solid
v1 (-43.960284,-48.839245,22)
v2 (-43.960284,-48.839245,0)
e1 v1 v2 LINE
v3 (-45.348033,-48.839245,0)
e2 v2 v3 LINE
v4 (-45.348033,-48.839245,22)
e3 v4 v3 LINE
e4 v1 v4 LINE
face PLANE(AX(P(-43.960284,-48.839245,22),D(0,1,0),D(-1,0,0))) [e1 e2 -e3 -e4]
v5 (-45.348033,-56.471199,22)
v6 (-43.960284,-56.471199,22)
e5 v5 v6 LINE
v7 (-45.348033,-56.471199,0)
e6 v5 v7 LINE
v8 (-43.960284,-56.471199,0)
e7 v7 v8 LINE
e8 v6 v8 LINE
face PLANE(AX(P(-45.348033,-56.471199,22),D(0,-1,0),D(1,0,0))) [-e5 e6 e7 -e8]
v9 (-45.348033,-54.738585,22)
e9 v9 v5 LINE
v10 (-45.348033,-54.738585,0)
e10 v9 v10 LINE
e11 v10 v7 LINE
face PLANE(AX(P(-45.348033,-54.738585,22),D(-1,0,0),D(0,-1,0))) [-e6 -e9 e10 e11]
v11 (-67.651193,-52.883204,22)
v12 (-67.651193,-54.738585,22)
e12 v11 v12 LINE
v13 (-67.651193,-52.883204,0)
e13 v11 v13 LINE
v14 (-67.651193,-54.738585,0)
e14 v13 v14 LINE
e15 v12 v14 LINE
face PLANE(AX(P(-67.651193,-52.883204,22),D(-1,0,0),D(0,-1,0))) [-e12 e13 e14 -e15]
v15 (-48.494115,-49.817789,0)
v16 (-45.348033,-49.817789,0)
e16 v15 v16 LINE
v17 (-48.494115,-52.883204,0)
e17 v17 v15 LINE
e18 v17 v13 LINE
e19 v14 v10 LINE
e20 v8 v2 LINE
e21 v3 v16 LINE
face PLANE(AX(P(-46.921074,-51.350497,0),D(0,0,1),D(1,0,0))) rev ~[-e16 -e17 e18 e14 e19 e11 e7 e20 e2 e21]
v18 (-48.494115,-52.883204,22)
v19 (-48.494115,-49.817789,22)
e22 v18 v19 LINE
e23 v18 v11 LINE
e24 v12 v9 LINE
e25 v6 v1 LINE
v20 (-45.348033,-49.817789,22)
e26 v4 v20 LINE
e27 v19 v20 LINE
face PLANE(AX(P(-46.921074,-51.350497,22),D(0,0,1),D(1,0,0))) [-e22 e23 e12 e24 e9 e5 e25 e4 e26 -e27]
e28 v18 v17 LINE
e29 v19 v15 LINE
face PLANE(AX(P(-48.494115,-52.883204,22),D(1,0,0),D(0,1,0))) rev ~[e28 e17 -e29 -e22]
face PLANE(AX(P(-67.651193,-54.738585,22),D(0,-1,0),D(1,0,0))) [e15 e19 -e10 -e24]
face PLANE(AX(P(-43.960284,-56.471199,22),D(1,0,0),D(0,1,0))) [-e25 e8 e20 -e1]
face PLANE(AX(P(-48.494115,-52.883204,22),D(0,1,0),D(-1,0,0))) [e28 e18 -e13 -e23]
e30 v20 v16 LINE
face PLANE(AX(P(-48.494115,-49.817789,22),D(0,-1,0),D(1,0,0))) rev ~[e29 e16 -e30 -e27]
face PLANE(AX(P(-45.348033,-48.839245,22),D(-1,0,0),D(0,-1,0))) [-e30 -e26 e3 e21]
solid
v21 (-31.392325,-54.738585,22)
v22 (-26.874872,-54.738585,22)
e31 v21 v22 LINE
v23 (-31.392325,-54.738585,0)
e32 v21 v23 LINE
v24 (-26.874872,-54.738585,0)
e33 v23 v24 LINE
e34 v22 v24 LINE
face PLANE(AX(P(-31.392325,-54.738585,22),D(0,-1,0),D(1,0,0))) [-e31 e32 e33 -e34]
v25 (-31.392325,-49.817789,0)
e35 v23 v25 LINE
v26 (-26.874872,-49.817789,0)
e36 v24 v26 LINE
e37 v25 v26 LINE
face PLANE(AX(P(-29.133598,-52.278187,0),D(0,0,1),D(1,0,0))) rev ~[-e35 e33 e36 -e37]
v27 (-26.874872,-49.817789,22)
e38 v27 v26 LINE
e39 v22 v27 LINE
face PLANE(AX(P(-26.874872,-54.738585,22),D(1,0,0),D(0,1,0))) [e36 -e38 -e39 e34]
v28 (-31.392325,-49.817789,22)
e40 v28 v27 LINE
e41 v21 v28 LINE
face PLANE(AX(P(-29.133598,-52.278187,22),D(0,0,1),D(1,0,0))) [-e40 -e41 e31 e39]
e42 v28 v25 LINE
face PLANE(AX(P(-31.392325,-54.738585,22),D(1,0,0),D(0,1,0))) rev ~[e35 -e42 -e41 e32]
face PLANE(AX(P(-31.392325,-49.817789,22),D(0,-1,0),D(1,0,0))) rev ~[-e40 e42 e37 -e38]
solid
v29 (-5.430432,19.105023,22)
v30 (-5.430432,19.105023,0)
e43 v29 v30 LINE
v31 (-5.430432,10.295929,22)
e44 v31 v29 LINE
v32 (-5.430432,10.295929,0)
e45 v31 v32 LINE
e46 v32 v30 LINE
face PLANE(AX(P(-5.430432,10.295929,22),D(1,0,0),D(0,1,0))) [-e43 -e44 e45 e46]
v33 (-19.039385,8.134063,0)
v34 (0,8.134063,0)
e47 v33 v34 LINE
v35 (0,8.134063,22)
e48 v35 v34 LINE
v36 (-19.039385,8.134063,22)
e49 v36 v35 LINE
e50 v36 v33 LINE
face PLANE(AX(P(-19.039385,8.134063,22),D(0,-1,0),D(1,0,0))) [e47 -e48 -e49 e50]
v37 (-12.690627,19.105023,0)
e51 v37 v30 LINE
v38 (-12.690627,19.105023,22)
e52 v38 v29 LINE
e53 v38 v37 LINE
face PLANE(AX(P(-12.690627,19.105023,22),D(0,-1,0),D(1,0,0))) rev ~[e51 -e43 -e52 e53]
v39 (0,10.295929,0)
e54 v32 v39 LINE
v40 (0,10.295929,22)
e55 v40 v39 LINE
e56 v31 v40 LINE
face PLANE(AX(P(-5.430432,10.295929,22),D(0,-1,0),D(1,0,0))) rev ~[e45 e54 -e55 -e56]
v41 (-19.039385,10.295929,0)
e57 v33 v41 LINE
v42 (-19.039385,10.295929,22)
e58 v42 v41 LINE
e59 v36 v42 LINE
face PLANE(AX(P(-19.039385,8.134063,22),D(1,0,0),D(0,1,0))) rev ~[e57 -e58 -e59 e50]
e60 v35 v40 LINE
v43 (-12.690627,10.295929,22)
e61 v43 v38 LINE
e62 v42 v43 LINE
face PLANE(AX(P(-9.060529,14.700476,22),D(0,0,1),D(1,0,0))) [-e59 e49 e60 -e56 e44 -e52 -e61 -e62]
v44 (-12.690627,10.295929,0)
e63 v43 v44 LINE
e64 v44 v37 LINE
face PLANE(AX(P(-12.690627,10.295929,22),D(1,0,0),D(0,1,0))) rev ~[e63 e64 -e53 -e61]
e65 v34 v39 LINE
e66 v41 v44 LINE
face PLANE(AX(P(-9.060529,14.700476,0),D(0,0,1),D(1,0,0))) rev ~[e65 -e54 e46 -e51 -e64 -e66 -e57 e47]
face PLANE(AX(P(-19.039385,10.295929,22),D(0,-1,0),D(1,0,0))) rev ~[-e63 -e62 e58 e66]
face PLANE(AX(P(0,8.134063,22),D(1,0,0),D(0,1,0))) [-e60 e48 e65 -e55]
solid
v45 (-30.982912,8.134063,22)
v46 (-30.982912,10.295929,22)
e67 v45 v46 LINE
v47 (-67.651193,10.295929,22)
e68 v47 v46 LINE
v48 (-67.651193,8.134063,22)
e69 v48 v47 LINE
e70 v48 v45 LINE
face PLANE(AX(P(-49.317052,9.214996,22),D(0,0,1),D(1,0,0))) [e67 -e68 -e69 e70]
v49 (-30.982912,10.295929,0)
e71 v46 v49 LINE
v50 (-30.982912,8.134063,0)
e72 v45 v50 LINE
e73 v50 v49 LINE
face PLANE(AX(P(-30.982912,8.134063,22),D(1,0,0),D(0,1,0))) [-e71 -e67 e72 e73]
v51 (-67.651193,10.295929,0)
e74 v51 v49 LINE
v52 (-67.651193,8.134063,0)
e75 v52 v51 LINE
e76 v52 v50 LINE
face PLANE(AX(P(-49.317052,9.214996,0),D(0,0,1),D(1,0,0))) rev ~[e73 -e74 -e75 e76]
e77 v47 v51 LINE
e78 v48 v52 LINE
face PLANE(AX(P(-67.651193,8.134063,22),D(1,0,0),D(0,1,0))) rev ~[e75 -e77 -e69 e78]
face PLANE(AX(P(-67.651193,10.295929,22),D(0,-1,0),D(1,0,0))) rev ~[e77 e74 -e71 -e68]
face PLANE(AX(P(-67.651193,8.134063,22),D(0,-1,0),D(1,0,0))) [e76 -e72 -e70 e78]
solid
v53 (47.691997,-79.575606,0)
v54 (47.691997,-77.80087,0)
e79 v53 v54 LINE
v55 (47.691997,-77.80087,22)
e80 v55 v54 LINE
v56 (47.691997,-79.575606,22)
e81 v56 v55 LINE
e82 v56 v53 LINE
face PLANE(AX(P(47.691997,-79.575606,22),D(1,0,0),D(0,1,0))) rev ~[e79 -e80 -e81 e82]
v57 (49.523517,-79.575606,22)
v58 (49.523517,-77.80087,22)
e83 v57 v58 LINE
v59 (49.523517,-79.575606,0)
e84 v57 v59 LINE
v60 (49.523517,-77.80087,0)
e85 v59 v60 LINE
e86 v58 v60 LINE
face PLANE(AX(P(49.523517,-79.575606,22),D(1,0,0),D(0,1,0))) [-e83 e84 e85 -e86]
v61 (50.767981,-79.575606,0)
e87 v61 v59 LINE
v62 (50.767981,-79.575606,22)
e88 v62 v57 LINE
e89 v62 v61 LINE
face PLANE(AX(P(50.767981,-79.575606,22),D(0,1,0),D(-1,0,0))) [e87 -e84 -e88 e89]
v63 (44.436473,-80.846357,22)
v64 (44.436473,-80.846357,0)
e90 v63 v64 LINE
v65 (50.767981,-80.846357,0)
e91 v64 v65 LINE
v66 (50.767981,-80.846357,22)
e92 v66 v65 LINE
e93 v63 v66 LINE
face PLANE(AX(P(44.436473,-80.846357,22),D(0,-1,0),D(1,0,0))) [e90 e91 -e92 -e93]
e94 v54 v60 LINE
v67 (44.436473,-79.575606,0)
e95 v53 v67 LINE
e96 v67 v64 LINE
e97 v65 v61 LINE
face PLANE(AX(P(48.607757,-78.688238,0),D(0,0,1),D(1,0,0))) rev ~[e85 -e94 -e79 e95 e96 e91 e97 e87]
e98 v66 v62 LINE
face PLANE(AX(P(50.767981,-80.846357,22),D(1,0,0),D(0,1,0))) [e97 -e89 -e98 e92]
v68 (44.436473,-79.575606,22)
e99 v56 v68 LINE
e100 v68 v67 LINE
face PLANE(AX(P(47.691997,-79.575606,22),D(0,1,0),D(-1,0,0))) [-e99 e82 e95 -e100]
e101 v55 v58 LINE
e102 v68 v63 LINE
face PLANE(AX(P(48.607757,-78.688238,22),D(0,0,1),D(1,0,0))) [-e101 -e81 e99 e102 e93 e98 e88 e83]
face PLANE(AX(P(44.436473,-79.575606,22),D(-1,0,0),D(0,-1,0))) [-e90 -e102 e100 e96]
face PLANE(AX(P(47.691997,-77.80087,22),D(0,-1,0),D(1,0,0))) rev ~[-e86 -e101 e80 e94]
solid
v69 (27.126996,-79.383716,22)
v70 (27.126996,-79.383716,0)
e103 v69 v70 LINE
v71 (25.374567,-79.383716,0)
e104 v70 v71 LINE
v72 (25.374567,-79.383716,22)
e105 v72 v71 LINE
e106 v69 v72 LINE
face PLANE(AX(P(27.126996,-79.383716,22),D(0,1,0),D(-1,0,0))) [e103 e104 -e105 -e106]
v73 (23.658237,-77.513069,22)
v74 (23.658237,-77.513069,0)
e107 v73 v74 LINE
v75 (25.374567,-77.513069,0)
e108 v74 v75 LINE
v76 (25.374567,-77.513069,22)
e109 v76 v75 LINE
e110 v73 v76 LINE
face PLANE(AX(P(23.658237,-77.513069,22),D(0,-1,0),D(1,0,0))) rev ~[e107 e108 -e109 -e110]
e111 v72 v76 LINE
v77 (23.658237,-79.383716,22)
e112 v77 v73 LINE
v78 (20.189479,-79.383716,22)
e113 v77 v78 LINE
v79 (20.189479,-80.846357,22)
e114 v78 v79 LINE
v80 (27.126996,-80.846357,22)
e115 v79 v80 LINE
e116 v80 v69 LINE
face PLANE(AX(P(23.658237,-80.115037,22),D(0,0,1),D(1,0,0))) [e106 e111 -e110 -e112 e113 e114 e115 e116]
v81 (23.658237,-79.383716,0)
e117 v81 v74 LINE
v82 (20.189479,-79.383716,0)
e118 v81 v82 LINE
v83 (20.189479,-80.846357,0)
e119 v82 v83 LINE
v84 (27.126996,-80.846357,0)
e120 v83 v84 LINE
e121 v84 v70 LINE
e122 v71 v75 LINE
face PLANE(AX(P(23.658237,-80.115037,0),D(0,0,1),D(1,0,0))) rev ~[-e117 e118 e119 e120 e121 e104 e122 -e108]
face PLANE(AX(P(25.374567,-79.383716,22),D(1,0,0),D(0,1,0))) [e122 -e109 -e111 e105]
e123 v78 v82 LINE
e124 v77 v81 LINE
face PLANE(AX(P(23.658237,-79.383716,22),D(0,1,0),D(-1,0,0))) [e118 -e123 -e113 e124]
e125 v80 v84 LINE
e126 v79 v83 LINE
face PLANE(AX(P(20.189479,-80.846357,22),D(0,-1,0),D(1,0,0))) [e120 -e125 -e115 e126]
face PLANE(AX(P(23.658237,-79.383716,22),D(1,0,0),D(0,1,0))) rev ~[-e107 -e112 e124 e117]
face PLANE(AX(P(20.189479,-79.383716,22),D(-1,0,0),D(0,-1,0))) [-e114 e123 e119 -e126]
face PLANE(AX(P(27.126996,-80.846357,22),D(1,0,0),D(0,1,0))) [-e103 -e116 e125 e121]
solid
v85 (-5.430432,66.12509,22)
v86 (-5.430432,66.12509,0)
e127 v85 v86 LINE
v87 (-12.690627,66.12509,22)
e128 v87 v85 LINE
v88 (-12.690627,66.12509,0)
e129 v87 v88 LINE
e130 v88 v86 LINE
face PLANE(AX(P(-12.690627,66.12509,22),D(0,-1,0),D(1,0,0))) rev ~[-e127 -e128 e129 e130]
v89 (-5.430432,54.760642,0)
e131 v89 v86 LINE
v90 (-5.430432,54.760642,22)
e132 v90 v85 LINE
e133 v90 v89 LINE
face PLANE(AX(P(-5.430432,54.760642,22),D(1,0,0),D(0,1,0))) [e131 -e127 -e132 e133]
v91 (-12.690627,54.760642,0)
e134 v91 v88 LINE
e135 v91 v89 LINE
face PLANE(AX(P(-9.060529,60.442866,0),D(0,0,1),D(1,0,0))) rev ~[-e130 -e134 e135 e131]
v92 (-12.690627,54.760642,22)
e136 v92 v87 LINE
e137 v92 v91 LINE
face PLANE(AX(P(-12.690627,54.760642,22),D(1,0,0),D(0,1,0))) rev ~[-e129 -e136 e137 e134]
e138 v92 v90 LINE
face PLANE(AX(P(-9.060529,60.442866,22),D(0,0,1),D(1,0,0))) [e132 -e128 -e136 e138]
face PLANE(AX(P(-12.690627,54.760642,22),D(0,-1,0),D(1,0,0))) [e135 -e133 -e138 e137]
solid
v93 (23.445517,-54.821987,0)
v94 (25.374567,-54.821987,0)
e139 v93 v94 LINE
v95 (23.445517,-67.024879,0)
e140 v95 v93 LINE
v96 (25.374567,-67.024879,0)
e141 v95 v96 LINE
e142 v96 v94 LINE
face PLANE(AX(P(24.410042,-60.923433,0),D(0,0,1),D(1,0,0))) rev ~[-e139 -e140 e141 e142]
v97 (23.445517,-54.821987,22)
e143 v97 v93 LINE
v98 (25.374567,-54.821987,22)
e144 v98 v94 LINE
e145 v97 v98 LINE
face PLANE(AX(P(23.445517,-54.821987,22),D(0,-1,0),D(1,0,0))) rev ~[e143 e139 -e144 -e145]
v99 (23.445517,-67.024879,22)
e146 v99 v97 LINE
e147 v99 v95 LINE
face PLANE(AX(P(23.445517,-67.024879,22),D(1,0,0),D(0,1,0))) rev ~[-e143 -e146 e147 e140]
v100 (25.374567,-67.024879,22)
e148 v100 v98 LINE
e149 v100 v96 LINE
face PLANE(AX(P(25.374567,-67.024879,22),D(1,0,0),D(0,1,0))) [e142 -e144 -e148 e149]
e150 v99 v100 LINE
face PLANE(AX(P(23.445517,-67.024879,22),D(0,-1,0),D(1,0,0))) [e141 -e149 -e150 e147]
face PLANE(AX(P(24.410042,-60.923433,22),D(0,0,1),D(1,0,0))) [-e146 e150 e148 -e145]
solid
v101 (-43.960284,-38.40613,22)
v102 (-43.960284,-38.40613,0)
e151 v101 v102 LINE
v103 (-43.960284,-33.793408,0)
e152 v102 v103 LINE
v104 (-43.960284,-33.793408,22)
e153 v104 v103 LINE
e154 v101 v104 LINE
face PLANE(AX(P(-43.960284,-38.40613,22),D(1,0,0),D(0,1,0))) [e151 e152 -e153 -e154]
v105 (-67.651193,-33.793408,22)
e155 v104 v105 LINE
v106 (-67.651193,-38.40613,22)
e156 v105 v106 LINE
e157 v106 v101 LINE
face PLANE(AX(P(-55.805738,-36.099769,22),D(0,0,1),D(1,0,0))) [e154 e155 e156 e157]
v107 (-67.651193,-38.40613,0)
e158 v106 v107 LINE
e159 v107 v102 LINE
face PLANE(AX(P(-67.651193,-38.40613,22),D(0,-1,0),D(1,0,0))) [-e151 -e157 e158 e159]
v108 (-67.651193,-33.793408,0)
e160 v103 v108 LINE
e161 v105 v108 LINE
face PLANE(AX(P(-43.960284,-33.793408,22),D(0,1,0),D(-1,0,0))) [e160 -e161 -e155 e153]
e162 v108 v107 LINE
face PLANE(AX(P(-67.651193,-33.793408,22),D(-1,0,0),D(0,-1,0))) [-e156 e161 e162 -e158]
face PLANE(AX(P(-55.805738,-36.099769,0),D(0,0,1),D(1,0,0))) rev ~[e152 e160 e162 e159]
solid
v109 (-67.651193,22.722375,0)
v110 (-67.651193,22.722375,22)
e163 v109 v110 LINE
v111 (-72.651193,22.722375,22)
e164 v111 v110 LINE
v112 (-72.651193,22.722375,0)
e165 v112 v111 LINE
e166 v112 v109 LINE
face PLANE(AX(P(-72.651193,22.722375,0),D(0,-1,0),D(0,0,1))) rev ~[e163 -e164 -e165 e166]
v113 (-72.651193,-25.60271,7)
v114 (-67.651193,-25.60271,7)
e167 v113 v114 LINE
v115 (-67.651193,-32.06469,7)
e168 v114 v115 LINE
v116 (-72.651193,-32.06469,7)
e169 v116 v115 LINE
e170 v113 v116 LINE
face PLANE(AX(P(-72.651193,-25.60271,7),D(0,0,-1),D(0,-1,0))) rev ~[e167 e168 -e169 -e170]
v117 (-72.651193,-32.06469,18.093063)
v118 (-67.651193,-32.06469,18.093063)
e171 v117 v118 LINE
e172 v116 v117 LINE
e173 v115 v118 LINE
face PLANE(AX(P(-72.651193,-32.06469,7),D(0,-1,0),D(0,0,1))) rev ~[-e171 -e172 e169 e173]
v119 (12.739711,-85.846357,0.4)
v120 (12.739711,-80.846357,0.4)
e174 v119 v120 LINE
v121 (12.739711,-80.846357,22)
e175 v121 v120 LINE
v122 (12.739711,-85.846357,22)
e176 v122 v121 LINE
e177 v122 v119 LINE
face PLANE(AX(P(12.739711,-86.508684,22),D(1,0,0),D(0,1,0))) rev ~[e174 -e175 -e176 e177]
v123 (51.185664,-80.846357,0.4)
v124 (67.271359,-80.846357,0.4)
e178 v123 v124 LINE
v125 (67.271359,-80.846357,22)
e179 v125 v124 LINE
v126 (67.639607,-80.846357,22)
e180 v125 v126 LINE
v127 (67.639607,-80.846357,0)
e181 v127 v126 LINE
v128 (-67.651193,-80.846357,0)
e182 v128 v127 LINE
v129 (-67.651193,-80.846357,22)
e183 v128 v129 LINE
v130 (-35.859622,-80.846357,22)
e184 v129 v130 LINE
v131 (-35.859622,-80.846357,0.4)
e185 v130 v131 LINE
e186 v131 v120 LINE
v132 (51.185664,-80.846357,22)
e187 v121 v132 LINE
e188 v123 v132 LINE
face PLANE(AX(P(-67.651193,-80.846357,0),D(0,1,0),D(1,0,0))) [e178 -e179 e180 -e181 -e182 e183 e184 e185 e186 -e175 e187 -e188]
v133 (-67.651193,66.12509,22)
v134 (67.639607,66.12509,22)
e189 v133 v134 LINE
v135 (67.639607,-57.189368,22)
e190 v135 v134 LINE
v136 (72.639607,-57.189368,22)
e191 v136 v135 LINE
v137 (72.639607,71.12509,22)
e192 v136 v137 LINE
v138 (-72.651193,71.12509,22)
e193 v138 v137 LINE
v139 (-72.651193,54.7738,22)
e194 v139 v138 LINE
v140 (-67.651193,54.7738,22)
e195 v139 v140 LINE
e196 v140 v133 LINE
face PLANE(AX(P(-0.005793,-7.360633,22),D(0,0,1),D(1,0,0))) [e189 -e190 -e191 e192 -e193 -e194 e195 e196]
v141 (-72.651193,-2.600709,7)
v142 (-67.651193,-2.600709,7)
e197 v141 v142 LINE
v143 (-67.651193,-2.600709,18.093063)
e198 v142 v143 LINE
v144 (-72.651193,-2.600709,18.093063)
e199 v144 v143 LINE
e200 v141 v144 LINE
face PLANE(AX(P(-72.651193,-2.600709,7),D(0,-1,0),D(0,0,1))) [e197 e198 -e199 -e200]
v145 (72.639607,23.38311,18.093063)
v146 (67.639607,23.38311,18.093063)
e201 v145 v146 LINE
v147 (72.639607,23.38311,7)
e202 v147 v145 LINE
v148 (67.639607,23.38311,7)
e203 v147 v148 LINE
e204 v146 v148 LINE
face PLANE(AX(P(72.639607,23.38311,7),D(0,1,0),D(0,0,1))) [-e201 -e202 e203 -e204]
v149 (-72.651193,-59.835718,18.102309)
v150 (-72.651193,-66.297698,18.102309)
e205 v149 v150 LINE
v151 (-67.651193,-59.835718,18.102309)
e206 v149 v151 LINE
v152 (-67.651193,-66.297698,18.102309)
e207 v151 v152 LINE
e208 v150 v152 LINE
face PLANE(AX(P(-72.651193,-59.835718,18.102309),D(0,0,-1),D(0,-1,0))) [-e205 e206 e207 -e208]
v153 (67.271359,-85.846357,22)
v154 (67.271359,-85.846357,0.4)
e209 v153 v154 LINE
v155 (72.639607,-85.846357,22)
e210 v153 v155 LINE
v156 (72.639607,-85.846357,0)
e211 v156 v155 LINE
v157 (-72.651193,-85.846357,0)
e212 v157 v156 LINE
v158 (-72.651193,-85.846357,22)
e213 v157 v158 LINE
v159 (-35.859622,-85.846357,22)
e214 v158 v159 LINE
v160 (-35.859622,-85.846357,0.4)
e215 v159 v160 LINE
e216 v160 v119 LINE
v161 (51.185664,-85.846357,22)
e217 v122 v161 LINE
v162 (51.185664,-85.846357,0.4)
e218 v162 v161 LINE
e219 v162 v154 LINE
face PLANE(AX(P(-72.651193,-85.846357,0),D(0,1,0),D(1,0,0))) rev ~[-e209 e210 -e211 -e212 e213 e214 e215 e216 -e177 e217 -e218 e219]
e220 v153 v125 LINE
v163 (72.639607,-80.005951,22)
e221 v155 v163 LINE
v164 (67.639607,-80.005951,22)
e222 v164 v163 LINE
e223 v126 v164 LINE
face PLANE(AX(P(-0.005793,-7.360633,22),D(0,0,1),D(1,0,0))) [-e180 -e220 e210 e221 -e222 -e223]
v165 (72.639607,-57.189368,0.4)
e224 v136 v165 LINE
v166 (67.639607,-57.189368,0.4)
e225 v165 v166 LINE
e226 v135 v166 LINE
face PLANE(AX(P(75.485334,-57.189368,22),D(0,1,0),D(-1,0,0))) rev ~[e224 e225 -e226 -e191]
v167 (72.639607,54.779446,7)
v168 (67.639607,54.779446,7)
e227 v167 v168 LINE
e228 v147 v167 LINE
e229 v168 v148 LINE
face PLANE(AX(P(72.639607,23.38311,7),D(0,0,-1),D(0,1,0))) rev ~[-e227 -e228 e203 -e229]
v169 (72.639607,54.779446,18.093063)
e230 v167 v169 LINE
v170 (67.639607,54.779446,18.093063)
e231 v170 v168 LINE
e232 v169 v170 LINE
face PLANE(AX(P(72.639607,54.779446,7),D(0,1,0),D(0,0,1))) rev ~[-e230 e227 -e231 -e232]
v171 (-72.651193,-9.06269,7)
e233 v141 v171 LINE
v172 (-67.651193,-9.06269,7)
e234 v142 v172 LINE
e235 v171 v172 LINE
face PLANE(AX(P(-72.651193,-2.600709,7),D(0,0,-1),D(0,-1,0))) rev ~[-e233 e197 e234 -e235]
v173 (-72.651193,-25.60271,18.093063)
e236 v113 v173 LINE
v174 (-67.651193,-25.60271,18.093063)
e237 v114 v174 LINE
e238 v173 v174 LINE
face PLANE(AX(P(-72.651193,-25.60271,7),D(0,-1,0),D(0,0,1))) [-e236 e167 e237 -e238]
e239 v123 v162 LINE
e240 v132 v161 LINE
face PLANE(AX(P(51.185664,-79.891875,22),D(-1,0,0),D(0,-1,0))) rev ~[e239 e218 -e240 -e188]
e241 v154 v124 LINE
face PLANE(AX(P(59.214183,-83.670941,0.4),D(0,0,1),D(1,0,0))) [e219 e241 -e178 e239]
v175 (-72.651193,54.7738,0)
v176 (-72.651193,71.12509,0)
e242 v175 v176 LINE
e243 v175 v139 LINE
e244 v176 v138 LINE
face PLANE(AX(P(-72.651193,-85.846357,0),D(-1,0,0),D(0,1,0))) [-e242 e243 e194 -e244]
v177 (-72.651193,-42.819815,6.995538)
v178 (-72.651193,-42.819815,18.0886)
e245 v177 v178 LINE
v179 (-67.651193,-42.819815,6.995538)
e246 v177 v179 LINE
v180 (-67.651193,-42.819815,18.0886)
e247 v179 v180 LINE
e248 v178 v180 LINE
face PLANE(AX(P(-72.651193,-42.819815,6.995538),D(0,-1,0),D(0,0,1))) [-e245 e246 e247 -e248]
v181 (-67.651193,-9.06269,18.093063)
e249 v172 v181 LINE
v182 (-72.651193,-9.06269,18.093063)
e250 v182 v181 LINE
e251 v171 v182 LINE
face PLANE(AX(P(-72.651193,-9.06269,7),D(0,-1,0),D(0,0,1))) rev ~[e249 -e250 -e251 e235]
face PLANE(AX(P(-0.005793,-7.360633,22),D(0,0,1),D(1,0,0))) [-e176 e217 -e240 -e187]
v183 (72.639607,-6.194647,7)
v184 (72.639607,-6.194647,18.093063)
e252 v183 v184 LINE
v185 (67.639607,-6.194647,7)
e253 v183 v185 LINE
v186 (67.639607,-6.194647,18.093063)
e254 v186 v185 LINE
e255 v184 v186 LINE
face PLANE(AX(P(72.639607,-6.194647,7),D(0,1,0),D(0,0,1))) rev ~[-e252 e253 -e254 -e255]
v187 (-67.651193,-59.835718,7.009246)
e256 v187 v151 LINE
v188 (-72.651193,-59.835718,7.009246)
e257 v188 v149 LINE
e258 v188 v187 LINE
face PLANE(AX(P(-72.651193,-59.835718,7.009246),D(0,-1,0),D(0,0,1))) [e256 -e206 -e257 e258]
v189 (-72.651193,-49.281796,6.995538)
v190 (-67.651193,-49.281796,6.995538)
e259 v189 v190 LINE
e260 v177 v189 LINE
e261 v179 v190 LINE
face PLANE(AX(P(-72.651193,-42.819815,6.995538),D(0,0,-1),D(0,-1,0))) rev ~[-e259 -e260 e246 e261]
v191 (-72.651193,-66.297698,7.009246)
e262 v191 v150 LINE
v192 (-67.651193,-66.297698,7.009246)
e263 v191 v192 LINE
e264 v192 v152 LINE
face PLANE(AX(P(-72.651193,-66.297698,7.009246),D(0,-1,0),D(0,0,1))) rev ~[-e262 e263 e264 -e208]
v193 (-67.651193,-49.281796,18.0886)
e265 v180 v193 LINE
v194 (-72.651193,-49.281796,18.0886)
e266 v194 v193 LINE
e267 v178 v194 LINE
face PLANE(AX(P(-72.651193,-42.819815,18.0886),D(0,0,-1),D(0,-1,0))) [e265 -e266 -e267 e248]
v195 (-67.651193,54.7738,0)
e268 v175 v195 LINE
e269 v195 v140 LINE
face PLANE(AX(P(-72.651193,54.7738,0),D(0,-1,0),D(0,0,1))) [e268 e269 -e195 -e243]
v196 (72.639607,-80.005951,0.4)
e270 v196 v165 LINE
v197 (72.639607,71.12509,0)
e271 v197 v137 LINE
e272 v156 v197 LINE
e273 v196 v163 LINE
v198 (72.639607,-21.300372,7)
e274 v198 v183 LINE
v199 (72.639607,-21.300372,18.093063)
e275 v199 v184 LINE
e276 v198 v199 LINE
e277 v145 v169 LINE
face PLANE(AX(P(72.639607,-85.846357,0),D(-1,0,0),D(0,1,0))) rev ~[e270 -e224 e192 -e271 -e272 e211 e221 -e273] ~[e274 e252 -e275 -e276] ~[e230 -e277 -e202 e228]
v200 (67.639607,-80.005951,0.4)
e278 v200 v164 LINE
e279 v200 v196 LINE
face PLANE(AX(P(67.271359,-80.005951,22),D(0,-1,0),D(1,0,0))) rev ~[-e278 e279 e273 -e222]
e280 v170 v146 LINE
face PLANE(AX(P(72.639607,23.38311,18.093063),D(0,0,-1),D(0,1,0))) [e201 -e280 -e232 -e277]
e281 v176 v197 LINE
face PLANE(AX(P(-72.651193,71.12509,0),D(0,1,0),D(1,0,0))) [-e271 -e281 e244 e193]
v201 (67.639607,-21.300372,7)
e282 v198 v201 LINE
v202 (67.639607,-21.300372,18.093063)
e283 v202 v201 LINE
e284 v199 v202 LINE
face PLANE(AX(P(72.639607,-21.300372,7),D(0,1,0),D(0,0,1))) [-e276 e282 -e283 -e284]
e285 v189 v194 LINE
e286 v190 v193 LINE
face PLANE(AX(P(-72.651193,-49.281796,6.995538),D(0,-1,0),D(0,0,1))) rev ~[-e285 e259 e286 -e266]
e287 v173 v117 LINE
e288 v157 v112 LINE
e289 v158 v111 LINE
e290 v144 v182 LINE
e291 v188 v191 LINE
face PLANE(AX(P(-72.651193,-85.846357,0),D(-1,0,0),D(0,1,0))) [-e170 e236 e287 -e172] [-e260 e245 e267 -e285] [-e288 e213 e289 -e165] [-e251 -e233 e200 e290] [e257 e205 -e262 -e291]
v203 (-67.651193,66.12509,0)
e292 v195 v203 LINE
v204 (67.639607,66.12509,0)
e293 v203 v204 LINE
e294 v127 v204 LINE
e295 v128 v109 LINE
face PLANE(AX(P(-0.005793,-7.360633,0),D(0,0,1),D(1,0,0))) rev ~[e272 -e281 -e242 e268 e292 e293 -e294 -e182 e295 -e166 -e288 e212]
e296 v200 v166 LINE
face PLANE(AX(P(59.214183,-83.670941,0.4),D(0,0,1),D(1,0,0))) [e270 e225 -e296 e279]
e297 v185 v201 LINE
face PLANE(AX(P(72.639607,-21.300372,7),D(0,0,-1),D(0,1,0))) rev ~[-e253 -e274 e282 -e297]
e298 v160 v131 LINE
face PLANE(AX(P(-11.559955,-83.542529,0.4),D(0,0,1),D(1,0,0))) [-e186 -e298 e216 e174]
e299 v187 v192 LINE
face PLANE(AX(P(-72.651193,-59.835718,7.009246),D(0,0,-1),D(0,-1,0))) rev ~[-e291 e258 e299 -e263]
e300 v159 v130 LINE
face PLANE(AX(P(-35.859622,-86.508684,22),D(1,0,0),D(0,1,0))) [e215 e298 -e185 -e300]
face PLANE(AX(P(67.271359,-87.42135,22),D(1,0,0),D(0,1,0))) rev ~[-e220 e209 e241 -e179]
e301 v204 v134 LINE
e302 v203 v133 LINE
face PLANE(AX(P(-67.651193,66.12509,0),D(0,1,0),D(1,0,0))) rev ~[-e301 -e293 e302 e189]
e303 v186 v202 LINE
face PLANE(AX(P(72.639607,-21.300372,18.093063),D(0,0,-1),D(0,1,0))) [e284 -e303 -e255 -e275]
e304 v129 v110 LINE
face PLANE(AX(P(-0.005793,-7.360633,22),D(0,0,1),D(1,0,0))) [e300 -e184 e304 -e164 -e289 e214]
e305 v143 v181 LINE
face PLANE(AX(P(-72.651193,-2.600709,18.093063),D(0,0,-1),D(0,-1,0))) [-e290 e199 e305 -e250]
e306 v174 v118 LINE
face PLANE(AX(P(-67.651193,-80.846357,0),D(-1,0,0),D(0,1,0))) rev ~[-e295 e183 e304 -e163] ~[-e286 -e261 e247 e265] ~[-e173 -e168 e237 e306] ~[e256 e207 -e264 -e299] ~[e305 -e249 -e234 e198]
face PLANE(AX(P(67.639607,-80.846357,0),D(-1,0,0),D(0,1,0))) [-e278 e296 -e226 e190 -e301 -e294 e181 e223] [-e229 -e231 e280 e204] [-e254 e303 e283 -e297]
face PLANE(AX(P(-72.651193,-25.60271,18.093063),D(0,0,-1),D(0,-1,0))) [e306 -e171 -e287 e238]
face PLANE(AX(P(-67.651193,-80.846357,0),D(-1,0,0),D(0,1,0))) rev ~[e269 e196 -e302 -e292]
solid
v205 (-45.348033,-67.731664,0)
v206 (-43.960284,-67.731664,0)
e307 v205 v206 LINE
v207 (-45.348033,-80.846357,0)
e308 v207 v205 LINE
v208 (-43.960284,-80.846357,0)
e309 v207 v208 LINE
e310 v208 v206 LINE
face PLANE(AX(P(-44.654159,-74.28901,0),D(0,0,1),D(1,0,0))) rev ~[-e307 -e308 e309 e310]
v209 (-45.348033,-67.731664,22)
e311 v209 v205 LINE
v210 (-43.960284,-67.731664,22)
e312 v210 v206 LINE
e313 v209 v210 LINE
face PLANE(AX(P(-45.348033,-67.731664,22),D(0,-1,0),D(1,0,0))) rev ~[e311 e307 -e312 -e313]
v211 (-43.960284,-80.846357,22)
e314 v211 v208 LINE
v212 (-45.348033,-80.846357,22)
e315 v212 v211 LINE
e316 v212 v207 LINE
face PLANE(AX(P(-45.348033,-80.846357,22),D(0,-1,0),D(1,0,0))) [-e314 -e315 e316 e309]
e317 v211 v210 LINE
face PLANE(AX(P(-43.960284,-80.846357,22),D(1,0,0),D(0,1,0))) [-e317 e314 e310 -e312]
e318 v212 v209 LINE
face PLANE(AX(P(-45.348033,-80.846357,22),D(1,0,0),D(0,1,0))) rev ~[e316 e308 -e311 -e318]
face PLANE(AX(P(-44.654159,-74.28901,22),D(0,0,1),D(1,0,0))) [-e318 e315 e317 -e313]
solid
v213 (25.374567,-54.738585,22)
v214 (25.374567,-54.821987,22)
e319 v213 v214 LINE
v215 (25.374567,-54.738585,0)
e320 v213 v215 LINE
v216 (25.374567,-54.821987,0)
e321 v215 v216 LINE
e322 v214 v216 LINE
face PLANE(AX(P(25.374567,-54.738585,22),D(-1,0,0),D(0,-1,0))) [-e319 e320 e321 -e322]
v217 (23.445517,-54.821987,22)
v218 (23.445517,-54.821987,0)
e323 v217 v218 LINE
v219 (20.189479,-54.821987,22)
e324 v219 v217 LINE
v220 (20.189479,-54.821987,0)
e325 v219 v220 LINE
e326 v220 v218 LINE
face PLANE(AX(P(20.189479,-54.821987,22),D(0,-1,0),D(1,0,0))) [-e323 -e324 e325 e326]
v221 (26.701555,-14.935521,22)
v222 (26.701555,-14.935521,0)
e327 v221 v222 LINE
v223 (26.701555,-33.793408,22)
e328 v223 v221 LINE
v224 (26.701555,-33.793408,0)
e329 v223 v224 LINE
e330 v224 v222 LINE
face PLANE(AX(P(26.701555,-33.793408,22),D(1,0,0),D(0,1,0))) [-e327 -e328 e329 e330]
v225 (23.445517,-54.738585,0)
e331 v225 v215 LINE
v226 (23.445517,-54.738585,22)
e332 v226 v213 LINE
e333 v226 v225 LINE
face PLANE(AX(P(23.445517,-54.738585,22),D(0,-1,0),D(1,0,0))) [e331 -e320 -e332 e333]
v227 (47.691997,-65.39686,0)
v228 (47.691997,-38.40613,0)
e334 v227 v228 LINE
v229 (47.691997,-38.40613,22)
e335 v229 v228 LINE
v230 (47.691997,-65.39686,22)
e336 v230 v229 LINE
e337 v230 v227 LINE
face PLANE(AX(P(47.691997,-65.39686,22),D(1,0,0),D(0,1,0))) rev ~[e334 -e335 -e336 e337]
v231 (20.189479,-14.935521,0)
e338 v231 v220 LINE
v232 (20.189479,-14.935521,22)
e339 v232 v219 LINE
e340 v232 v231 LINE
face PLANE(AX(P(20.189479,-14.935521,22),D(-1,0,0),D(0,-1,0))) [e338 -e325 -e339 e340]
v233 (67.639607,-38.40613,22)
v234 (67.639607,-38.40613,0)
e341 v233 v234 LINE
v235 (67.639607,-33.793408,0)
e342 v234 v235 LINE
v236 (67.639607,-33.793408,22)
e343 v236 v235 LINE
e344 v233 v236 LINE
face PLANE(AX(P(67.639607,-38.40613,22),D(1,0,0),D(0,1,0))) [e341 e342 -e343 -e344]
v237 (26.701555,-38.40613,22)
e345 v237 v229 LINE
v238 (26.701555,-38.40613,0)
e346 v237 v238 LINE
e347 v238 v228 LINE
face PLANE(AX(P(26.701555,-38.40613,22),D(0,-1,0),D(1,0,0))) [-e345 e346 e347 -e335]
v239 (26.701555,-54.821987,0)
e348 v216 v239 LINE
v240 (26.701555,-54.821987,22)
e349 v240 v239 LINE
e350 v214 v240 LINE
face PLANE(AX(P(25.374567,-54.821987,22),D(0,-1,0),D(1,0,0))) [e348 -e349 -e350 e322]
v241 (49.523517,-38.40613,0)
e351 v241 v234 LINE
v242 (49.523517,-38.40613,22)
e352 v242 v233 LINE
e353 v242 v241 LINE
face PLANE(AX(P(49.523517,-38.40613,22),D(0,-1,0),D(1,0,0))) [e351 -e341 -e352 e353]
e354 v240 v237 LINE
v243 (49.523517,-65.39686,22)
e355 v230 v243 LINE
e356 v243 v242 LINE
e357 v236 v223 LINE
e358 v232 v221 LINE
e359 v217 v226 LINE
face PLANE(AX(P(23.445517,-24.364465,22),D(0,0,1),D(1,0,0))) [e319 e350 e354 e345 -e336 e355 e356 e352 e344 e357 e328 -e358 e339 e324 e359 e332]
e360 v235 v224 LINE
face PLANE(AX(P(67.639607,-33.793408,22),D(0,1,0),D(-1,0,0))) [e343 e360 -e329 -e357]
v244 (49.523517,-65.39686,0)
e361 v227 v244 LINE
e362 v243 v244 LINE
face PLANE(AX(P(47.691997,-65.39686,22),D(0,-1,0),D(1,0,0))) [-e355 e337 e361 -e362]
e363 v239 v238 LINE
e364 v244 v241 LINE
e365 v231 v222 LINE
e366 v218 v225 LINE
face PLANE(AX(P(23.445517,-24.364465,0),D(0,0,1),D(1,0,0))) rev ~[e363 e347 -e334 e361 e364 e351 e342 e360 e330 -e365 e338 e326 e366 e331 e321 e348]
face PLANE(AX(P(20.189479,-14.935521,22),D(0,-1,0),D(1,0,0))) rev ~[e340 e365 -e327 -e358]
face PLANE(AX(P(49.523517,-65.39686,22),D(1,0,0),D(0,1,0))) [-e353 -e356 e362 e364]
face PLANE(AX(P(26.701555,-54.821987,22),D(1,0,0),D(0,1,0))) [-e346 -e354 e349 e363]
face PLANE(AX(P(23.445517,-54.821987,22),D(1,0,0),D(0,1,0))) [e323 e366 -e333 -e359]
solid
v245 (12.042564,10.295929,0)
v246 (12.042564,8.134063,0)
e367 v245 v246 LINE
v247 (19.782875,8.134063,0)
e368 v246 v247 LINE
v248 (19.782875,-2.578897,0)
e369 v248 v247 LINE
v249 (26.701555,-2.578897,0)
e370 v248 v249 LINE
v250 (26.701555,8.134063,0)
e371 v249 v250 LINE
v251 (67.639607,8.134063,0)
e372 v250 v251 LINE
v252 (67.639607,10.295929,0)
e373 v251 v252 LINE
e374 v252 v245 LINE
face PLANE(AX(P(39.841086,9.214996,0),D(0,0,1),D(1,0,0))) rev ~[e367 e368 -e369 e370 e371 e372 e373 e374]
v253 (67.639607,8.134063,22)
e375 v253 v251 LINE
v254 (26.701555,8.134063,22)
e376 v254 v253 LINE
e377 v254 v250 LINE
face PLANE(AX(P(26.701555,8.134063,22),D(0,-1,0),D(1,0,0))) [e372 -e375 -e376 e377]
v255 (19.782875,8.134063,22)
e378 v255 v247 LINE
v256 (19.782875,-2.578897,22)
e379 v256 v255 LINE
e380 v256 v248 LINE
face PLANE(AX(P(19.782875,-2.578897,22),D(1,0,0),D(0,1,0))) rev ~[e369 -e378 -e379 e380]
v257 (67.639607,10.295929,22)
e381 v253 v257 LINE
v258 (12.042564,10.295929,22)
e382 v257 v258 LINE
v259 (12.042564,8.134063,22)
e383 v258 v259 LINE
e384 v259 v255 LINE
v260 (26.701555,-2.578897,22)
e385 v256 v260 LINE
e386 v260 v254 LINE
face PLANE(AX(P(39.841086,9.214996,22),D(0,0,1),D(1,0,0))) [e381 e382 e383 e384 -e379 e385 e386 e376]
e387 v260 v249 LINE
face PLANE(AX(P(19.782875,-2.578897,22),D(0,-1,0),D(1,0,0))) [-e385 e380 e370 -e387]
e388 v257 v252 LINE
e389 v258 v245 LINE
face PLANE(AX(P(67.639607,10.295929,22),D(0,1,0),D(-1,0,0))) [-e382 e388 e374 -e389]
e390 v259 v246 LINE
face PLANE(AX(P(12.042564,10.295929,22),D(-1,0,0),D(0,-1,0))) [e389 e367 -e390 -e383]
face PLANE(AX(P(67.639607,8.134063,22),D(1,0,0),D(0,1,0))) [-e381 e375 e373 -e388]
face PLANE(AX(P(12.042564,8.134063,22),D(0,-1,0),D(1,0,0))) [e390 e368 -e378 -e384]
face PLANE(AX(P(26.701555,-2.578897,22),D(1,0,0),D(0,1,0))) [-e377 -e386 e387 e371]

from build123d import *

# Parameters (mm, degrees)
F0_W      = 145.290799439
F0_H      = 156.9714471698
F0_W_2    = 135.290799439
F0_H_2    = 146.9714471698
F1_DEPTH  = 22
F3_DEPTH  = 22
F2_W      = 7.2601954453
F2_H      = 8.8090933859
F2_W_2    = 6.3487580046
F2_H_2    = 2.1618660539
F2_W_3    = 5.4304315709
F2_H_3    = 11.3644477725
F2_W_4    = 6.5120756626
F2_H_4    = 18.8578870147
F2_H_5    = 4.6127215028
F2_W_5    = 1.8315203488
F2_H_6    = 26.9907303154
F2_W_6    = 3.1460821629
F2_H_7    = 3.0654147267
F2_W_7    = 1.3877488673
F2_H_8    = 13.1146934628
F2_W_8    = 4.5174527913
F2_H_9    = 4.9207955599
F2_W_9    = 36.6682809591
F2_W_10   = 6.9186799228
F2_H_10   = 10.7129600365
F2_W_11   = 1.7163297161
F2_H_11   = 1.8706470728
F2_W_12   = 1.9290503114
F2_H_12   = 12.2028924525
F2_H_13   = 1.7747357488
F5_W      = 32.0514254272
F5_H      = 22
F5_W_2    = 6.4619807526
F5_H_2    = 11.0930625647
F6_DEPTH  = 8.3
F7_W      = 15.1057243347
F7_H      = 11.0930625647
F7_W_2    = 31.3963359222
F8_DEPTH  = 9.5
F9_W      = 48.5993335024
F9_H      = 5.9323087335
F9_W_2    = 5.9323124588
F9_H_2    = 0.1140758395
F10_DEPTH = 21.6


with BuildPart() as f1:
    # F0 (on Top) → F1 (new body)
    with BuildSketch(Plane.XY):
        with Locations((-0.0057928264, -7.3606334627)):
            Rectangle(F0_W, F0_H)
        with Locations((-0.0057928264, -7.3606334627)):
            Rectangle(F0_W_2, F0_H_2, mode=Mode.SUBTRACT)
    extrude(amount=F1_DEPTH)

    # F5 (on face) → F6 (cut)
    with BuildSketch(Plane(origin=(-72.6511925459, 0, 0), x_dir=(0, -1, 0), z_dir=(-1, 0, 0))):
        with Locations((-38.7480873615, 11)):
            Rectangle(F5_W, F5_H)
        with Locations((5.8316993527, 12.5465312824)):
            Rectangle(F5_W_2, F5_H_2)
        with Locations((28.8336998783, 12.5465312824)):
            Rectangle(F5_W_2, F5_H_2)
        with Locations((46.0508055985, 12.542069209)):
            Rectangle(F5_W_2, F5_H_2)
        with Locations((63.066707924, 12.555777346)):
            Rectangle(F5_W_2, F5_H_2)
    extrude(amount=-F6_DEPTH, mode=Mode.SUBTRACT)

    # F7 (on face) → F8 (cut)
    with BuildSketch(Plane.YZ.offset(72.6396068931)):
        with Locations((-13.7475095689, 12.5465312824)):
            Rectangle(F7_W, F7_H)
        with Locations((39.0812777914, 12.5465312824)):
            Rectangle(F7_W_2, F7_H)
    extrude(amount=-F8_DEPTH, mode=Mode.SUBTRACT)

    # F9 (on face) → F10 (cut)
    with BuildSketch(Plane.XY.offset(22)):
        with Locations((-11.5599553101, -83.5425294936)):
            Rectangle(F9_W, F9_H)
        Polygon((61.3390468061, -79.8918753862), (51.1856637895, -79.8918753862), (51.1856637895, -87.4213501811), (67.2713592649, -87.4213501811), (67.2713592649, -80.0059512258), (61.3390468061, -80.0059512258), align=None)
        Polygon((61.3390468061, -57.1893677115), (61.3390468061, -79.8918753862), (67.2713592649, -79.8918753862), (67.2713592649, -80.0059512258), (75.4853338003, -80.0059512258), (75.4853338003, -57.1893677115), align=None)
        with Locations((64.3052030355, -79.948913306)):
            Rectangle(F9_W_2, F9_H_2)
    extrude(amount=-F10_DEPTH, mode=Mode.SUBTRACT)


with BuildPart() as f3:
    # F2 (on face) → F3 (new body)
    with BuildSketch(Plane.XY.offset(22)):
        Polygon((-46.0593439639, -33.7934084237), (-67.6511925459, -33.7934084237), (-67.6511925459, -38.4061299264), (-45.348033309, -38.4061299264), (-43.9602844417, -38.4061299264), (-43.9602844417, -33.7934084237), align=None)
    extrude(amount=-F3_DEPTH)


with BuildPart() as f3b:
    # F2 (on face) → F3, piece 2 (new body)
    with BuildSketch(Plane.XY.offset(22)):
        with Locations((-9.0605292935, 14.7004760802)):
            Rectangle(F2_W, F2_H)
        with Locations((-15.8650060184, 9.2149963602)):
            Rectangle(F2_W_2, F2_H_2)
        with Locations((-9.0605292935, 9.2149963602)):
            Rectangle(F2_W, F2_H_2)
        with Locations((-2.7152157854, 9.2149963602)):
            Rectangle(F2_W_3, F2_H_2)
    extrude(amount=-F3_DEPTH)


with BuildPart() as f3c:
    # F2 (on face) → F3, piece 3 (new body)
    with BuildSketch(Plane.XY.offset(22)):
        with Locations((-9.0605292935, 60.442866236)):
            Rectangle(F2_W, F2_H_3)
    extrude(amount=-F3_DEPTH)


with BuildPart() as f3d:
    # F2 (on face) → F3, piece 4 (new body)
    with BuildSketch(Plane.XY.offset(22)):
        with Locations((23.4455168247, -24.3644649163)):
            Rectangle(F2_W_4, F2_H_4)
        with Locations((23.4455168247, -36.0997691751)):
            Rectangle(F2_W_4, F2_H_5)
        Polygon((26.701554656, -38.4061299264), (20.1894789934, -38.4061299264), (20.1894789934, -54.8219867051), (23.4455168247, -54.8219867051), (23.4455168247, -54.7385849059), (25.3745671362, -54.7385849059), (25.3745671362, -54.8219867051), (26.701554656, -54.8219867051), align=None)
        Polygon((67.6396068931, -33.7934084237), (26.701554656, -33.7934084237), (26.701554656, -38.4061299264), (47.6919971406, -38.4061299264), (49.5235174894, -38.4061299264), (67.6396068931, -38.4061299264), align=None)
        with Locations((48.607757315, -51.9014950842)):
            Rectangle(F2_W_5, F2_H_6)
    extrude(amount=-F3_DEPTH)


with BuildPart() as f3e:
    # F2 (on face) → F3, piece 5 (new body)
    with BuildSketch(Plane.XY.offset(22)):
        with Locations((-46.9210743904, -51.3504967093)):
            Rectangle(F2_W_6, F2_H_7)
        Polygon((-43.9602844417, -48.8392449915), (-45.348033309, -48.8392449915), (-45.348033309, -49.817789346), (-45.348033309, -52.8832040727), (-45.348033309, -54.7385849059), (-45.348033309, -56.4711987972), (-43.9602844417, -56.4711987972), align=None)
        Polygon((-48.4941154718, -52.8832040727), (-67.6511925459, -52.8832040727), (-67.6511925459, -54.7385849059), (-45.348033309, -54.7385849059), (-45.348033309, -52.8832040727), align=None)
    extrude(amount=-F3_DEPTH)


with BuildPart() as f3f:
    # F2 (on face) → F3, piece 6 (new body)
    with BuildSketch(Plane.XY.offset(22)):
        with Locations((-44.6541588753, -74.2890103161)):
            Rectangle(F2_W_7, F2_H_8)
    extrude(amount=-F3_DEPTH)


with BuildPart() as f3g:
    # F2 (on face) → F3, piece 7 (new body)
    with BuildSketch(Plane.XY.offset(22)):
        with Locations((-29.1335983202, -52.2781871259)):
            Rectangle(F2_W_8, F2_H_9)
    extrude(amount=-F3_DEPTH)


with BuildPart() as f3h:
    # F2 (on face) → F3, piece 8 (new body)
    with BuildSketch(Plane.XY.offset(22)):
        with Locations((-49.3170520663, 9.2149963602)):
            Rectangle(F2_W_9, F2_H_2)
    extrude(amount=-F3_DEPTH)


with BuildPart() as f3i:
    # F2 (on face) → F3, piece 9 (new body)
    with BuildSketch(Plane.XY.offset(22)):
        Polygon((26.701554656, 8.1340633333), (67.6396068931, 8.1340633333), (67.6396068931, 10.2959293872), (12.0425643399, 10.2959293872), (12.0425643399, 8.1340633333), (19.7828747332, 8.1340633333), align=None)
        with Locations((23.2422146946, 2.777583315)):
            Rectangle(F2_W_10, F2_H_10)
    extrude(amount=-F3_DEPTH)


with BuildPart() as f3j:
    # F2 (on face) → F3, piece 10 (new body)
    with BuildSketch(Plane.XY.offset(22)):
        Polygon((20.1894789934, -79.3837159872), (20.1894789934, -80.8463570476), (27.1269958466, -80.8463570476), (27.1269958466, -79.3837159872), (25.3745671362, -79.3837159872), (23.65823742, -79.3837159872), align=None)
        with Locations((24.5164022781, -78.4483924508)):
            Rectangle(F2_W_11, F2_H_11)
    extrude(amount=-F3_DEPTH)


with BuildPart() as f3k:
    # F2 (on face) → F3, piece 11 (new body)
    with BuildSketch(Plane.XY.offset(22)):
        with Locations((24.4100419804, -60.9234329313)):
            Rectangle(F2_W_12, F2_H_12)
    extrude(amount=-F3_DEPTH)


with BuildPart() as f3l:
    # F2 (on face) → F3, piece 12 (new body)
    with BuildSketch(Plane.XY.offset(22)):
        with Locations((48.607757315, -78.6882378161)):
            Rectangle(F2_W_5, F2_H_13)
        Polygon((44.4364733994, -80.8463570476), (50.767980516, -80.8463570476), (50.767980516, -79.5756056905), (49.5235174894, -79.5756056905), (47.6919971406, -79.5756056905), (44.4364733994, -79.5756056905), align=None)
    extrude(amount=-F3_DEPTH)


solid = Compound([f1.part, f3.part, f3b.part, f3c.part, f3d.part, f3e.part, f3f.part, f3g.part, f3h.part, f3i.part, f3j.part, f3k.part, f3l.part])
